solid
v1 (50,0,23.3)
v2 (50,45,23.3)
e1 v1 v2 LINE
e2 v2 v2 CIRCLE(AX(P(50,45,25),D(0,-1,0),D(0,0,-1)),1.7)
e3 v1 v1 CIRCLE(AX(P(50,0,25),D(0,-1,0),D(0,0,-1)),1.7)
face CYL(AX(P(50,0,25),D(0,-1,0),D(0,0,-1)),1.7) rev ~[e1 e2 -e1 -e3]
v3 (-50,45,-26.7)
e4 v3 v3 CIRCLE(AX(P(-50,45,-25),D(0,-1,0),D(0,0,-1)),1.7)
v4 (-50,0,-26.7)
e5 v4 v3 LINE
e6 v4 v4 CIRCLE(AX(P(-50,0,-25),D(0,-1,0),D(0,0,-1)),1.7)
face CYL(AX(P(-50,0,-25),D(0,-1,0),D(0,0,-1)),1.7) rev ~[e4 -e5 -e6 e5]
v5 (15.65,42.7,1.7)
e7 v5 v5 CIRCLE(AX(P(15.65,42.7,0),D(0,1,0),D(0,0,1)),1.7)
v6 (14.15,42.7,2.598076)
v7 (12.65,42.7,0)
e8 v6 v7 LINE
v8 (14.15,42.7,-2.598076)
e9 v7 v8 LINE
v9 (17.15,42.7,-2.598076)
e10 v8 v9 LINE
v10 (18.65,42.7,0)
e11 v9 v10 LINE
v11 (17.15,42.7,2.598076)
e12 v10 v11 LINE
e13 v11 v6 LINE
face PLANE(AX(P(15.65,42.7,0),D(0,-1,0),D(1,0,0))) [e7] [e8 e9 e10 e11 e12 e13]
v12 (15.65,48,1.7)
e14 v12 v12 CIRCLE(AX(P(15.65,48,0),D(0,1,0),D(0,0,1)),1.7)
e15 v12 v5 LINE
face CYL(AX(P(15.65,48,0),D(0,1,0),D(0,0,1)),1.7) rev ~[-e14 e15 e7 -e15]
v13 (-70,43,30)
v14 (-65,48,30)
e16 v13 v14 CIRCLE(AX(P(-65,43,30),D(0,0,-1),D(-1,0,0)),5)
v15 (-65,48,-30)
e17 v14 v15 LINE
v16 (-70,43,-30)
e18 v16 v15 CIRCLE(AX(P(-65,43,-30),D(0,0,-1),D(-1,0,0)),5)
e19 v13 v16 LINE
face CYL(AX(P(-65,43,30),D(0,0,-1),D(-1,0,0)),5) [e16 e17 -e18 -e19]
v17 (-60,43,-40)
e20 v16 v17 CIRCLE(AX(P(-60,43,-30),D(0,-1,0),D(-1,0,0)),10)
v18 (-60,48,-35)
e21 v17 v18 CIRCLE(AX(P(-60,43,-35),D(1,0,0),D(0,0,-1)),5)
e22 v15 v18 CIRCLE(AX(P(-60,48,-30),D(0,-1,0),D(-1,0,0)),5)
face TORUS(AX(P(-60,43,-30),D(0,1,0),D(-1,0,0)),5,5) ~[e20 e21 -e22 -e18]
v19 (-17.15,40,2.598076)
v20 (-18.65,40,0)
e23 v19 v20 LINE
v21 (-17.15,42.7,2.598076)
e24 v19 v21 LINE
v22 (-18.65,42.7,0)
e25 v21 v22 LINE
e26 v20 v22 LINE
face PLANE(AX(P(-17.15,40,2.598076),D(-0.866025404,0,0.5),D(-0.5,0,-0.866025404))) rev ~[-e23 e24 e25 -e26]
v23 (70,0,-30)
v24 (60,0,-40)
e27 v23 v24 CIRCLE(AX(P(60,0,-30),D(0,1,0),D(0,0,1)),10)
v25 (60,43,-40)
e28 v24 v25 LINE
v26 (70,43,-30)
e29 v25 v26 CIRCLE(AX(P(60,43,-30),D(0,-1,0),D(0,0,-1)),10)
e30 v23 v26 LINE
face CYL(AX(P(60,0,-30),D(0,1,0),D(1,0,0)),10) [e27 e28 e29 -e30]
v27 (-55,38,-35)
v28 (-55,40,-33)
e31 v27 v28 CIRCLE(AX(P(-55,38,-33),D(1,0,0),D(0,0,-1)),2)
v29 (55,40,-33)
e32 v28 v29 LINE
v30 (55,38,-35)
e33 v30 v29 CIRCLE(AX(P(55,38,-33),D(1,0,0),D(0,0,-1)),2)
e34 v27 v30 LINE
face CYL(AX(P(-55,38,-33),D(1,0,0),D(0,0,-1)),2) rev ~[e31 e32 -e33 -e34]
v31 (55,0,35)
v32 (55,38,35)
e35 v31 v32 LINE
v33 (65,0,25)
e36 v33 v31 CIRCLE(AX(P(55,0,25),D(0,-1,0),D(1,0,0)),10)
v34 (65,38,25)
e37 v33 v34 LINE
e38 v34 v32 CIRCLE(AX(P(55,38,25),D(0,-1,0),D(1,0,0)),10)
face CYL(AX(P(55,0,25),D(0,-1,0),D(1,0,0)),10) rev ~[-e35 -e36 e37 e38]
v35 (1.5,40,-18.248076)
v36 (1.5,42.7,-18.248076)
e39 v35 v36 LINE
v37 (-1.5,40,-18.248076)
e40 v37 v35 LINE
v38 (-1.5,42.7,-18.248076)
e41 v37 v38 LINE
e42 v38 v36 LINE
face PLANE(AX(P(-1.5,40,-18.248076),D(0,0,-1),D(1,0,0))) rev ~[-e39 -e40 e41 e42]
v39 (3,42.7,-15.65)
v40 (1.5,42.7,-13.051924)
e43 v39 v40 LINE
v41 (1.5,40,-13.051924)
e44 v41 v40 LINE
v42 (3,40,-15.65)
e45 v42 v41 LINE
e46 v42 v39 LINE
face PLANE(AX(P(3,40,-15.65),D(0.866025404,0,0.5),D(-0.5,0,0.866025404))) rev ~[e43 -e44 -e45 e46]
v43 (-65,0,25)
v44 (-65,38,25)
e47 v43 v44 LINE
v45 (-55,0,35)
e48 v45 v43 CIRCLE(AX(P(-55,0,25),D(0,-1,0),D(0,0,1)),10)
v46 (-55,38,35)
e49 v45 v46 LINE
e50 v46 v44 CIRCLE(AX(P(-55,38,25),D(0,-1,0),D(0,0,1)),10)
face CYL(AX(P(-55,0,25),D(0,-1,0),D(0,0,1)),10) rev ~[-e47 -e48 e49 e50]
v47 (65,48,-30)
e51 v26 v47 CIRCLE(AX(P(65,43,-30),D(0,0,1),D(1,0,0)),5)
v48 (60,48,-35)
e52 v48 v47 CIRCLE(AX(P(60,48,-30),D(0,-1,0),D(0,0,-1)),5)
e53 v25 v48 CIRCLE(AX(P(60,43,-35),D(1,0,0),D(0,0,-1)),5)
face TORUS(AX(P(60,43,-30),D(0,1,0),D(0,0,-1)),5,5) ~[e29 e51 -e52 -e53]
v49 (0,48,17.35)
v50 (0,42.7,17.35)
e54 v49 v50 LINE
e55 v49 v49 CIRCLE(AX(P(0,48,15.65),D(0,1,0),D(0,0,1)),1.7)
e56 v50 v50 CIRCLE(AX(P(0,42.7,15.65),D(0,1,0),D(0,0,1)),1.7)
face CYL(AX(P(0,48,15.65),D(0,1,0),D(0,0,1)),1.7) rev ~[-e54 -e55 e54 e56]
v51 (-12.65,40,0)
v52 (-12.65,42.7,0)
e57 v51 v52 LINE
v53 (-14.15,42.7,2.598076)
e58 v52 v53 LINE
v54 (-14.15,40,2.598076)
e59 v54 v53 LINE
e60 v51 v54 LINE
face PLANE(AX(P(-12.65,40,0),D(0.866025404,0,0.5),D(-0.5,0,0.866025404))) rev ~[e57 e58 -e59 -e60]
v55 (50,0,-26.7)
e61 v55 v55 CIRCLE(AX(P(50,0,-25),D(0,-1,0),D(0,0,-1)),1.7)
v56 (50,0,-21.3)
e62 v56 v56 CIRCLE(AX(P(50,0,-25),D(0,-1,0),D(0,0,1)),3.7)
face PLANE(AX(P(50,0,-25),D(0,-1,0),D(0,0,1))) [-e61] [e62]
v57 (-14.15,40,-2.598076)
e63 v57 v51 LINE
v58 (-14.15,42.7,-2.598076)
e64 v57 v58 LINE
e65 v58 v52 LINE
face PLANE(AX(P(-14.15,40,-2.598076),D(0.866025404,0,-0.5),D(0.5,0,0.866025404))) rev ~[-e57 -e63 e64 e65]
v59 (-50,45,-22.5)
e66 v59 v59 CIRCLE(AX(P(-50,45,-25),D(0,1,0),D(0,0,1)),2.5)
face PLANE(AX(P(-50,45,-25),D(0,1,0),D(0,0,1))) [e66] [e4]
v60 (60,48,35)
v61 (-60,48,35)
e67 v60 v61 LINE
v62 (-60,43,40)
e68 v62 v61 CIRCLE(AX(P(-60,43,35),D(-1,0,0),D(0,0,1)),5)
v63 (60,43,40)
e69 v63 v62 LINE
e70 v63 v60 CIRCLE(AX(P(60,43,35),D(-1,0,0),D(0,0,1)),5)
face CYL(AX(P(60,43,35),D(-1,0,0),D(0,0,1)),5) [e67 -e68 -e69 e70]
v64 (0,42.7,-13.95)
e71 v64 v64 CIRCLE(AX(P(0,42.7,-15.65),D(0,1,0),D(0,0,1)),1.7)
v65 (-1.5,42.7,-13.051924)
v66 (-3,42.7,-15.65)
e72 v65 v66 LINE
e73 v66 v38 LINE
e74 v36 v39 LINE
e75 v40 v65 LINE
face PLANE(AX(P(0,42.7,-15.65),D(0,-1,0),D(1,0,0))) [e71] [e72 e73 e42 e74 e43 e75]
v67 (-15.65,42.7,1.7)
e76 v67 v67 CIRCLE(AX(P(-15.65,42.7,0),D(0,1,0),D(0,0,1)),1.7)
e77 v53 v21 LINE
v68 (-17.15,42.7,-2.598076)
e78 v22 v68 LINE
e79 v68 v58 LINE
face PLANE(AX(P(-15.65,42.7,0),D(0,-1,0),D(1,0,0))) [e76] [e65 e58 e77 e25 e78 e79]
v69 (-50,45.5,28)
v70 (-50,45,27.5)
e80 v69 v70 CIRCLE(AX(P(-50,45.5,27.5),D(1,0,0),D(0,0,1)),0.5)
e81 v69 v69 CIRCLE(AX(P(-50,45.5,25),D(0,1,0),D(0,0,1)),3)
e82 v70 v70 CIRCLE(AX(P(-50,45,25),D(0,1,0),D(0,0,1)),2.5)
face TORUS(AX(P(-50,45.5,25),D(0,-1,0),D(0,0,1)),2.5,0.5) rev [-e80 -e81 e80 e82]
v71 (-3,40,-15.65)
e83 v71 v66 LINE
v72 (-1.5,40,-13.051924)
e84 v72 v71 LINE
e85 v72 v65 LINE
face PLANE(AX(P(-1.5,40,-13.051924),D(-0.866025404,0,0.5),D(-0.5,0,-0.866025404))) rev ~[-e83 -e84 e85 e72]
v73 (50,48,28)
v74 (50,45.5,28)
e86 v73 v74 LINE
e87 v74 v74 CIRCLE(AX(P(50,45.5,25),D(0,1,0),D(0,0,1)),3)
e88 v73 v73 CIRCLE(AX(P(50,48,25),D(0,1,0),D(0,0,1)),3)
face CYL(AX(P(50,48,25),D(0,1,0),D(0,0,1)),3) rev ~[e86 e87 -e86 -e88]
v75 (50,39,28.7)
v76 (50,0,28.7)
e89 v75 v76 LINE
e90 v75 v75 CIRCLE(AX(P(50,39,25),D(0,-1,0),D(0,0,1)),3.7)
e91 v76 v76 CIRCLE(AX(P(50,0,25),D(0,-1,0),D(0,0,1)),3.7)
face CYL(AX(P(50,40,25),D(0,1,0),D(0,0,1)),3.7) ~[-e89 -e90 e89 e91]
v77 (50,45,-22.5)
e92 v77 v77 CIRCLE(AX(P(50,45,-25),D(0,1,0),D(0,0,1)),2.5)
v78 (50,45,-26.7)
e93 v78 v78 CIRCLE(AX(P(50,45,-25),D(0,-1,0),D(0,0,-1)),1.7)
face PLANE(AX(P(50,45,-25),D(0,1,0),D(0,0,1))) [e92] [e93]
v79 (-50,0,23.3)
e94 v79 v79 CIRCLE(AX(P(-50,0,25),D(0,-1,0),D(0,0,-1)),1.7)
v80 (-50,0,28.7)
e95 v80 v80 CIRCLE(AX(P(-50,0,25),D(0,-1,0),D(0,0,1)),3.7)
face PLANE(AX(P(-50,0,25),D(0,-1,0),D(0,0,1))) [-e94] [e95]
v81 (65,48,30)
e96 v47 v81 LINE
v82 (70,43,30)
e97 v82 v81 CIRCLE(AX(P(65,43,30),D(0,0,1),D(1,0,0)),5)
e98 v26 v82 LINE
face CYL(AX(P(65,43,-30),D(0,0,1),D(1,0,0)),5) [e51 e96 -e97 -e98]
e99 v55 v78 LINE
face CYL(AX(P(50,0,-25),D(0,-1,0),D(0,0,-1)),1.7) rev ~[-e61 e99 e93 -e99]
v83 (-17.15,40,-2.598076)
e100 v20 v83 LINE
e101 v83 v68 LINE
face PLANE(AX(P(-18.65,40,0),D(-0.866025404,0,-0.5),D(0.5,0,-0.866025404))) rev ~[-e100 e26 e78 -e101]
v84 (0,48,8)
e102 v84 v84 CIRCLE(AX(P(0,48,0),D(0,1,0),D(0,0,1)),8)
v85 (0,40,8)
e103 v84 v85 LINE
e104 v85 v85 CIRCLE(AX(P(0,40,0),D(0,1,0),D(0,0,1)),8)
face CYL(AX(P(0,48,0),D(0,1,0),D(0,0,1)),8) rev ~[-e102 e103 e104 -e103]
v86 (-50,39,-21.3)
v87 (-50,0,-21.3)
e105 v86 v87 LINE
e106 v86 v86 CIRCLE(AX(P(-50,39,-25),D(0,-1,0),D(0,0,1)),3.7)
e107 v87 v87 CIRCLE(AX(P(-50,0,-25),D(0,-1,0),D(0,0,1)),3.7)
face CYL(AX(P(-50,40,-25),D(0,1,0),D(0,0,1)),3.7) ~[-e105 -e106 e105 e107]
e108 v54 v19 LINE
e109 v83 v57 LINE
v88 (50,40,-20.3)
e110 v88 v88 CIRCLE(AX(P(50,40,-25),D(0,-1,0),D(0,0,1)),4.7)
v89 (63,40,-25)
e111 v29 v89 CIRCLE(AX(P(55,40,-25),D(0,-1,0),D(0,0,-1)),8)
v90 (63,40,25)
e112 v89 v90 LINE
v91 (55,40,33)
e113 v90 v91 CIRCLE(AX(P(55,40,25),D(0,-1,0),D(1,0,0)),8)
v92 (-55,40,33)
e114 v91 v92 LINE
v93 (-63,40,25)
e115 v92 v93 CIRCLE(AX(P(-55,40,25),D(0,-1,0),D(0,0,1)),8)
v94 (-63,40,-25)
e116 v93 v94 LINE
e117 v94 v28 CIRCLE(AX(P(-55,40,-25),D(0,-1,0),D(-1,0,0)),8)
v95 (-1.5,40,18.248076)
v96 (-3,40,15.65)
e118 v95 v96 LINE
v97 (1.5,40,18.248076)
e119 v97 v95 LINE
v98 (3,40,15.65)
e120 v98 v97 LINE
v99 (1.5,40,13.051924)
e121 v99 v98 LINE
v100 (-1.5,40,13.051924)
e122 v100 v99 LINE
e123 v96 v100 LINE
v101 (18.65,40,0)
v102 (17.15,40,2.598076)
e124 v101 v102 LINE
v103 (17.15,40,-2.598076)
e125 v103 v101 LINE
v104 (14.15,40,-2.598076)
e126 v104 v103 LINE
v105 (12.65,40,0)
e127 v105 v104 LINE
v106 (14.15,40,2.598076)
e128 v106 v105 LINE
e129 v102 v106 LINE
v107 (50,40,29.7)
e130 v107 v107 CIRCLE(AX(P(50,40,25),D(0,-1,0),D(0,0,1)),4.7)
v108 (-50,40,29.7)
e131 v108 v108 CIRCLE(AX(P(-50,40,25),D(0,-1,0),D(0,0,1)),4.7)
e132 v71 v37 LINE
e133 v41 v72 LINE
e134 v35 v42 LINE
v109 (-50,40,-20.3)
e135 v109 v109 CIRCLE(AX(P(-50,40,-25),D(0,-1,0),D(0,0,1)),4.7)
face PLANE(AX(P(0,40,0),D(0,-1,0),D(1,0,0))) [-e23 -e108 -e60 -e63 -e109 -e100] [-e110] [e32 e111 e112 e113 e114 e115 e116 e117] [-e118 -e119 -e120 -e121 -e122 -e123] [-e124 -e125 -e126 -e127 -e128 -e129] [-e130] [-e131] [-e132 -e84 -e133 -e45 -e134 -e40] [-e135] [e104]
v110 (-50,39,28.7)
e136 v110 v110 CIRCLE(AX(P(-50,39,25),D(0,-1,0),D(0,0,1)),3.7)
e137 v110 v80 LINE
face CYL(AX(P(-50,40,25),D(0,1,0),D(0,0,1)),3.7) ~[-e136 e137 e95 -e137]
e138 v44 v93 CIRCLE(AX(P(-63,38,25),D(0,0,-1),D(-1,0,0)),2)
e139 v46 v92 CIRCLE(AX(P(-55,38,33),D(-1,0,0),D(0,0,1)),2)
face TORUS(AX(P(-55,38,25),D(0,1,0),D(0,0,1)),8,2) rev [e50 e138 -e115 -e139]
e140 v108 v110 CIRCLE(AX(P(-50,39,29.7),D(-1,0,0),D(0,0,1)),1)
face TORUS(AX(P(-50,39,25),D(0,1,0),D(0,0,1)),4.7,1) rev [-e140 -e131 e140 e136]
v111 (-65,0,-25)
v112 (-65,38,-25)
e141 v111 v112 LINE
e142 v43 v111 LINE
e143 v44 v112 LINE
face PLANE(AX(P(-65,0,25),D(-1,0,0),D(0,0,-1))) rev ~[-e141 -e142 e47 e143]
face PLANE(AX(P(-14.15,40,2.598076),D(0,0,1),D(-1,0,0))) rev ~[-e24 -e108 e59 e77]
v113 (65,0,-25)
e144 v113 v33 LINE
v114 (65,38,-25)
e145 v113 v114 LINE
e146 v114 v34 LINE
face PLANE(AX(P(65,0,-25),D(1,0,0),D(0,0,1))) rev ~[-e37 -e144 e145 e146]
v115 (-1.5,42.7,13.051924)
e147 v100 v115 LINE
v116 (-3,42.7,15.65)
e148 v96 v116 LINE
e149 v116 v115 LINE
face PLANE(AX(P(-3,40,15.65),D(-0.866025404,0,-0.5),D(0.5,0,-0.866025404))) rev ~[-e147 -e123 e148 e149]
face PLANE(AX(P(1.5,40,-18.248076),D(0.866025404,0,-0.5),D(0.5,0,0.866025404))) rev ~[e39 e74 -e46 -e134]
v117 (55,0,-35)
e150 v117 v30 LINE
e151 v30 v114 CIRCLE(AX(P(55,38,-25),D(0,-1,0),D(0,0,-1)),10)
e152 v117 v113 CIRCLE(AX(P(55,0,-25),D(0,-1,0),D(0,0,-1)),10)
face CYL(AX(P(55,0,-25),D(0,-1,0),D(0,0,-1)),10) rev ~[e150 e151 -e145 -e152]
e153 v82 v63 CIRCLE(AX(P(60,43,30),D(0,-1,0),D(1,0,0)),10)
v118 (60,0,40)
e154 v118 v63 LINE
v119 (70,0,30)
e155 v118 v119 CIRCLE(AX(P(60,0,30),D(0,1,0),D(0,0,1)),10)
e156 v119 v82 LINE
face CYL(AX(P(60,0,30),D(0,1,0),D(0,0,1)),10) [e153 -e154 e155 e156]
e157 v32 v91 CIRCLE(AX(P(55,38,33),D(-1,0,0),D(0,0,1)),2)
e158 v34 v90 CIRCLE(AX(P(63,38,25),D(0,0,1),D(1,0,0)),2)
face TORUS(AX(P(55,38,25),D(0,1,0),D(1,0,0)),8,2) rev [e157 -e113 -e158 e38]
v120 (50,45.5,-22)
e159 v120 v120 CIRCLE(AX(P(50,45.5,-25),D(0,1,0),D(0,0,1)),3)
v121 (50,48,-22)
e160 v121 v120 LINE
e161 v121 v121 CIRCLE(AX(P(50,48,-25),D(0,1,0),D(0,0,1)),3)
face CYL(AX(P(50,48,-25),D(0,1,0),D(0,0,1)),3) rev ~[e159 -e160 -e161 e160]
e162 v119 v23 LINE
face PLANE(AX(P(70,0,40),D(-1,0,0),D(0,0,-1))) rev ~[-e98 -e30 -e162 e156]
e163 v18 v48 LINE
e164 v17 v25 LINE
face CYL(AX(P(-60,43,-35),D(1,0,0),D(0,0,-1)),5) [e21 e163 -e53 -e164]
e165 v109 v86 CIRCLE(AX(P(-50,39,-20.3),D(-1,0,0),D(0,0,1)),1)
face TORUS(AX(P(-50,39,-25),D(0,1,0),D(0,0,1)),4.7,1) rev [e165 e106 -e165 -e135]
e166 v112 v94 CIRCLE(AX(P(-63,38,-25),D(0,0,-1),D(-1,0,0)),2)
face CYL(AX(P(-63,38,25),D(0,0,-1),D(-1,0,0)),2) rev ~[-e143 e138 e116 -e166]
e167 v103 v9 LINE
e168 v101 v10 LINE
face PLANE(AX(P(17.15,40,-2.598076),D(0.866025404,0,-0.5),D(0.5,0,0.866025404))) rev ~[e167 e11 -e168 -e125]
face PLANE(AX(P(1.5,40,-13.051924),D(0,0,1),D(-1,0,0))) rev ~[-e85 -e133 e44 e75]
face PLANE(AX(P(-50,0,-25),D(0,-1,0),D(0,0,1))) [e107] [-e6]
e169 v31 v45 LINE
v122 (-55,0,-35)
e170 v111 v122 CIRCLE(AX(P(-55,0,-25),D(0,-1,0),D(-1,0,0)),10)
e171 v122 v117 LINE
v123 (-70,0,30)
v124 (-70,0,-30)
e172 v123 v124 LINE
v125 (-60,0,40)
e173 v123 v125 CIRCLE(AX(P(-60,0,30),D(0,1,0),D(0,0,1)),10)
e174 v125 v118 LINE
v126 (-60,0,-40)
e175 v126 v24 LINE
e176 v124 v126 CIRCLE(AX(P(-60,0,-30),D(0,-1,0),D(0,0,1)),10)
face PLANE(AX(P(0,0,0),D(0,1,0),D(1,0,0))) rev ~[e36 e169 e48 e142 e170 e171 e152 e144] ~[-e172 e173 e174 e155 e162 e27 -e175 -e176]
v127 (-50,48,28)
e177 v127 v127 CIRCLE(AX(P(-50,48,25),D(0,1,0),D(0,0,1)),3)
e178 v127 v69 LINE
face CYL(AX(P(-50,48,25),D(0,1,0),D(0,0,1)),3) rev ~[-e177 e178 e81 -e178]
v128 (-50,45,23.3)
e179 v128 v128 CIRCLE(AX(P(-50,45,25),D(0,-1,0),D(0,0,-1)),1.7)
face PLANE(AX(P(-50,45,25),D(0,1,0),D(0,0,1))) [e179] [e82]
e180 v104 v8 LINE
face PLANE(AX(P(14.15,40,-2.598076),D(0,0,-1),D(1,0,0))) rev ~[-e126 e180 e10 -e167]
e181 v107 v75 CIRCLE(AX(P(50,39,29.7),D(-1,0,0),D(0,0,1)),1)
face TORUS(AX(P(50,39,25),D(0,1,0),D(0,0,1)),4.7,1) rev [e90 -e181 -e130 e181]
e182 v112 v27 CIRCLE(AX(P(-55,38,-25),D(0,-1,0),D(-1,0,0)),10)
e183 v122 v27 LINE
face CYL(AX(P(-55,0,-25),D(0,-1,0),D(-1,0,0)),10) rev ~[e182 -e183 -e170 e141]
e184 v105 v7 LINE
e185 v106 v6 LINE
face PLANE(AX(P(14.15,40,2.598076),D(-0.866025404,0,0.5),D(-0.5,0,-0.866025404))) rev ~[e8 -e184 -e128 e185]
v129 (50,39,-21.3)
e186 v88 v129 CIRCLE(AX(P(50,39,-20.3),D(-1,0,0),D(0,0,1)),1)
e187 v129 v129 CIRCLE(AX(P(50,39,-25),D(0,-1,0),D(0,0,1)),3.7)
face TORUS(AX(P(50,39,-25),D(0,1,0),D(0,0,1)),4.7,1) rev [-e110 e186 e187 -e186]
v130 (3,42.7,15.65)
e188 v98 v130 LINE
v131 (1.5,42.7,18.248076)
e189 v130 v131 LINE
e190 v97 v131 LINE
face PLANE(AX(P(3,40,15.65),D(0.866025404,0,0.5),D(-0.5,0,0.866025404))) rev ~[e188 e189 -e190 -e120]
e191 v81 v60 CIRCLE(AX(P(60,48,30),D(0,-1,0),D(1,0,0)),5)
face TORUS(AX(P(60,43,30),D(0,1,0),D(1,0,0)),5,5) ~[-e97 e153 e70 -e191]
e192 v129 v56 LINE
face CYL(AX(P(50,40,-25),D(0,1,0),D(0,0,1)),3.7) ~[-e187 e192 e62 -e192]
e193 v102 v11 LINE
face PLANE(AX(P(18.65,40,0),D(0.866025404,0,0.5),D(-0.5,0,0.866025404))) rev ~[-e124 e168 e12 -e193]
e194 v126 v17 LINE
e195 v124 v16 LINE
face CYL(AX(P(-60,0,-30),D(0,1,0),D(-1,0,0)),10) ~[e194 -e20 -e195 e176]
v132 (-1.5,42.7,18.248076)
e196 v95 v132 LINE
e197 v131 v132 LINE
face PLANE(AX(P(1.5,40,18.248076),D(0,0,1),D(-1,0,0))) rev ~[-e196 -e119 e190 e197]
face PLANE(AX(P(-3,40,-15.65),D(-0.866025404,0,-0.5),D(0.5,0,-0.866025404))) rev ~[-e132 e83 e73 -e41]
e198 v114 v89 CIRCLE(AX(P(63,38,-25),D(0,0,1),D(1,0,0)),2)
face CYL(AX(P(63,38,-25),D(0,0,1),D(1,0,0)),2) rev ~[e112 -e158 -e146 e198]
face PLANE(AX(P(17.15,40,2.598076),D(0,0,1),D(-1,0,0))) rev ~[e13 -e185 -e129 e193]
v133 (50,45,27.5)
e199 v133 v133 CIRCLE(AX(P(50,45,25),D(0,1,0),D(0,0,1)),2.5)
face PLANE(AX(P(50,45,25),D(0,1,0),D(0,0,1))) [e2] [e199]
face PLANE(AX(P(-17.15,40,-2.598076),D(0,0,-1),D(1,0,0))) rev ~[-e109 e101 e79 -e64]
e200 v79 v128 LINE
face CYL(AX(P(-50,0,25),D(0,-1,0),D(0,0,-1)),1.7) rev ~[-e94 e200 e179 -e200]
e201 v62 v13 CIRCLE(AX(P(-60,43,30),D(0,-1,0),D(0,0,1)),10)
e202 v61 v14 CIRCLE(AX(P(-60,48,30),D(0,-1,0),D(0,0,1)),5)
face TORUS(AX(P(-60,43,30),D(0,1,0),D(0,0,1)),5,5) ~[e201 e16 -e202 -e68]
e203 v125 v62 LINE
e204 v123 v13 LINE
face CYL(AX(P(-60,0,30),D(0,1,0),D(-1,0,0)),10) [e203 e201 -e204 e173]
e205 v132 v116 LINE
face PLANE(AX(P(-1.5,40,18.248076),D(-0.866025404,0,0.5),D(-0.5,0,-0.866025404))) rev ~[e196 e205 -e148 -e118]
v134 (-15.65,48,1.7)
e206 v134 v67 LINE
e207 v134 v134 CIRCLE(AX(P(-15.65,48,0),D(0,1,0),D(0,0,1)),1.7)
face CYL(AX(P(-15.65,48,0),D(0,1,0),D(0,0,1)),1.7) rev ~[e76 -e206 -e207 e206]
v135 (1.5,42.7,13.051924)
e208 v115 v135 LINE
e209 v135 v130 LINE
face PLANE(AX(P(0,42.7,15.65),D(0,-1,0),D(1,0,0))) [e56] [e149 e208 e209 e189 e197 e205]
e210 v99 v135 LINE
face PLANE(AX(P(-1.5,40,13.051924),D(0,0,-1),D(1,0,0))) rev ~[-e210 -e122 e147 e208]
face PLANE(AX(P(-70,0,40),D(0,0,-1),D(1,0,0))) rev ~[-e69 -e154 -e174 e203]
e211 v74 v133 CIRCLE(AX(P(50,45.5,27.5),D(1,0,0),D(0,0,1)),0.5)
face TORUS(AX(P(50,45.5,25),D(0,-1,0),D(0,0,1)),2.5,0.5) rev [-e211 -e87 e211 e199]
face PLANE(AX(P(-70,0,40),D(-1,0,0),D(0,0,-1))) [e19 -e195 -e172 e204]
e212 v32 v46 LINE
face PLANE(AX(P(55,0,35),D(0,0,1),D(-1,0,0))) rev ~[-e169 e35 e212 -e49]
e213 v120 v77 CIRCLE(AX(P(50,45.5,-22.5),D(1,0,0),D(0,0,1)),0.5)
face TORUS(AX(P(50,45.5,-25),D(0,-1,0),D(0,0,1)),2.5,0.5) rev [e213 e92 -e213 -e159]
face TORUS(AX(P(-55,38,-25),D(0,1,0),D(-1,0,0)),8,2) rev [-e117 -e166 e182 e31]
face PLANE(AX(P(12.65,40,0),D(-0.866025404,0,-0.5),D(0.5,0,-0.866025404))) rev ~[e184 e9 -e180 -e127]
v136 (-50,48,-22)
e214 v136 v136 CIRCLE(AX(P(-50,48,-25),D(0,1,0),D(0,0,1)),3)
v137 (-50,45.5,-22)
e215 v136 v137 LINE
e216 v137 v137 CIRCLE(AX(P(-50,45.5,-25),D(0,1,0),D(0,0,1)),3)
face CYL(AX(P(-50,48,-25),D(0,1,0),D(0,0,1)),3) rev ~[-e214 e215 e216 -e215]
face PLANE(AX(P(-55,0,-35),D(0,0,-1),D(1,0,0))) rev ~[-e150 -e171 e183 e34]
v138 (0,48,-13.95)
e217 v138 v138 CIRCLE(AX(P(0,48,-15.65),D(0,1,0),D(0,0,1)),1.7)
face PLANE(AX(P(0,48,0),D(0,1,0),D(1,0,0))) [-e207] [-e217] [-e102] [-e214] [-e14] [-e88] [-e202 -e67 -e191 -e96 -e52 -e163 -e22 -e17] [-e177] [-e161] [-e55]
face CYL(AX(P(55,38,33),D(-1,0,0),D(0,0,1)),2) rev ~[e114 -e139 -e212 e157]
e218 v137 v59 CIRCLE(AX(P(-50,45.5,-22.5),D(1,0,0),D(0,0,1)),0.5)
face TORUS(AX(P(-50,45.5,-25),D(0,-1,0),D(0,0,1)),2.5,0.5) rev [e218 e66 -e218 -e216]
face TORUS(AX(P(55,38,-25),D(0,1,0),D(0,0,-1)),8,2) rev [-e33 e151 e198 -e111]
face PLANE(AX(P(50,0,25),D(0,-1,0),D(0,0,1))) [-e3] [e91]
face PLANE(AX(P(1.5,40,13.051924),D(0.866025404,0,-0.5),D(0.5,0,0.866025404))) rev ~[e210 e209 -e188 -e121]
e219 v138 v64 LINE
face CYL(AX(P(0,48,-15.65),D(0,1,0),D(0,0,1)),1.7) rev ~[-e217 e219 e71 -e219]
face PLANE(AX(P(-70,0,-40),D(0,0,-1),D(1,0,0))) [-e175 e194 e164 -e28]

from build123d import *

# Parameters (mm, degrees)
SKETCH1_W           = 140
SKETCH1_H           = 80
BOSS_EXTRUDE1_DEPTH = 48
FILLET1_R           = 10
FILLET2_R           = 5
CUT_EXTRUDE1_DEPTH  = 40
SKETCH3_R           = 3.7
BOSS_EXTRUDE2_DEPTH = 40
SKETCH5_R           = 1.7
CUT_EXTRUDE4_DEPTH  = 94.829632921
SKETCH6_R           = 3
CUT_EXTRUDE5_DEPTH  = 3
FILLET3_R           = 0.5
FILLET4_R           = 2
FILLET5_R           = 1
SKETCH7_R           = 8
CUT_EXTRUDE6_DEPTH  = 94.829632921
SKETCH8_R           = 1.7
CUT_EXTRUDE7_DEPTH  = 94.829632921
CUT_EXTRUDE8_DEPTH  = 2.7


with BuildPart() as part:
    # Sketch1 → Boss-Extrude1 (new body)
    with BuildSketch(Plane(origin=(0, 0, 0), x_dir=(1, 0, 0), z_dir=(0, 1, 0))):
        Rectangle(SKETCH1_W, SKETCH1_H)
    extrude(amount=BOSS_EXTRUDE1_DEPTH)

    # Fillet1
    fillet1_edges = [part.edges().sort_by_distance(p)[0] for p in [
        (70, 24, 40),
        (-70, 24, 40),
        (-70, 24, -40),
        (70, 24, -40),
    ]]
    fillet(fillet1_edges, radius=FILLET1_R)

    # Fillet2
    fillet2_edges = [part.edges().sort_by_distance(p)[0] for p in [
        (-70, 48, 0),
        (0, 48, -40),
        (70, 48, 0),
        (0, 48, 40),
        (-67.071067812, 48, 37.071067812),
        (67.071067812, 48, 37.071067812),
        (67.071067812, 48, -37.071067812),
        (-67.071067812, 48, -37.071067812),
    ]]
    fillet(fillet2_edges, radius=FILLET2_R)

    # Sketch2 → Cut-Extrude1 (cut)
    with BuildSketch(Plane.XZ):
        with BuildLine():
            Line((-55, -35), (55, -35))
            ThreePointArc((55, -35), (62.071067812, -32.071067812), (65, -25))
            Line((65, -25), (65, 25))
            ThreePointArc((65, 25), (62.071067812, 32.071067812), (55, 35))
            Line((55, 35), (-55, 35))
            ThreePointArc((-55, 35), (-62.071067812, 32.071067812), (-65, 25))
            Line((-65, 25), (-65, -25))
            ThreePointArc((-65, -25), (-62.071067812, -32.071067812), (-55, -35))
        make_face()
    extrude(amount=-CUT_EXTRUDE1_DEPTH, mode=Mode.SUBTRACT)

    # Sketch3 → Boss-Extrude2 (add)
    with BuildSketch(Plane(origin=(0, 40, 0), x_dir=(-1, 0, 0), z_dir=(0, -1, 0))):
        with Locations(Location((50, -25, 0), (0, 0, 270))):
            Circle(SKETCH3_R)
        with Locations(Location((-50, -25, 0), (0, 0, 270))):
            Circle(SKETCH3_R)
        with Locations(Location((50, 25, 0), (0, 0, 270))):
            Circle(SKETCH3_R)
        with Locations(Location((-50, 25, 0), (0, 0, 270))):
            Circle(SKETCH3_R)
    extrude(amount=BOSS_EXTRUDE2_DEPTH)

    # Sketch5 → Cut-Extrude4 (cut, through all)
    with BuildSketch(Plane(origin=(0, 0, 0), x_dir=(-1, 0, 0), z_dir=(0, -1, 0))):
        with Locations(Location((50, -25, 0), (0, 0, 90))):
            Circle(SKETCH5_R)
        with Locations(Location((-50, -25, 0), (0, 0, 90))):
            Circle(SKETCH5_R)
        with Locations(Location((50, 25, 0), (0, 0, 90))):
            Circle(SKETCH5_R)
        with Locations(Location((-50, 25, 0), (0, 0, 90))):
            Circle(SKETCH5_R)
    extrude(amount=-CUT_EXTRUDE4_DEPTH, mode=Mode.SUBTRACT)

    # Sketch6 → Cut-Extrude5 (cut)
    with BuildSketch(Plane(origin=(0, 48, 0), x_dir=(1, 0, 0), z_dir=(0, 1, 0))):
        with Locations(Location((-50, 25, 0), (0, 0, 270))):
            Circle(SKETCH6_R)
        with Locations(Location((50, 25, 0), (0, 0, 270))):
            Circle(SKETCH6_R)
        with Locations(Location((-50, -25, 0), (0, 0, 270))):
            Circle(SKETCH6_R)
        with Locations(Location((50, -25, 0), (0, 0, 270))):
            Circle(SKETCH6_R)
    extrude(amount=-CUT_EXTRUDE5_DEPTH, mode=Mode.SUBTRACT)

    # Fillet3
    fillet3_edges = [part.edges().sort_by_distance(p)[0] for p in [
        (50, 45, -28),
        (-50, 45, 22),
        (50, 45, 22),
        (-50, 45, -28),
    ]]
    fillet(fillet3_edges, radius=FILLET3_R)

    # Fillet4
    fillet4_edges = [part.edges().sort_by_distance(p)[0] for p in [
        (-62.071067812, 40, 32.071067812),
        (0, 40, 35),
        (62.071067812, 40, 32.071067812),
        (65, 40, 0),
        (62.071067812, 40, -32.071067812),
        (0, 40, -35),
        (-62.071067812, 40, -32.071067812),
        (-65, 40, 0),
    ]]
    fillet(fillet4_edges, radius=FILLET4_R)

    # Fillet5
    fillet5_edges = [part.edges().sort_by_distance(p)[0] for p in [
        (-50, 40, 21.3),
        (50, 40, -28.7),
        (-50, 40, -28.7),
        (50, 40, 21.3),
    ]]
    fillet(fillet5_edges, radius=FILLET5_R)

    # Sketch7 → Cut-Extrude6 (cut, through all)
    with BuildSketch(Plane(origin=(0, 48, 0), x_dir=(1, 0, 0), z_dir=(0, 1, 0))):
        with Locations(Location((0, 0, 0), (0, 0, 270))):
            Circle(SKETCH7_R)
    extrude(amount=-CUT_EXTRUDE6_DEPTH, mode=Mode.SUBTRACT)

    # Sketch8 → Cut-Extrude7 (cut, through all)
    with BuildSketch(Plane(origin=(0, 48, 0), x_dir=(1, 0, 0), z_dir=(0, 1, 0))):
        with Locations(Location((0, 15.65, 0), (0, 0, 270))):
            Circle(SKETCH8_R)
        with Locations(Location((15.65, 0, 0), (0, 0, 270))):
            Circle(SKETCH8_R)
        with Locations(Location((0, -15.65, 0), (0, 0, 270))):
            Circle(SKETCH8_R)
        with Locations(Location((-15.65, 0, 0), (0, 0, 270))):
            Circle(SKETCH8_R)
    extrude(amount=-CUT_EXTRUDE7_DEPTH, mode=Mode.SUBTRACT)

    # Sketch9 → Cut-Extrude8 (cut)
    with BuildSketch(Plane.XZ.offset(-40)):
        Polygon((3, 15.65), (1.5, 18.248076211), (-1.5, 18.248076211), (-3, 15.65), (-1.5, 13.051923789), (1.5, 13.051923789), align=None)
        Polygon((18.65, 0), (17.15, 2.598076211), (14.15, 2.598076211), (12.65, 0), (14.15, -2.598076211), (17.15, -2.598076211), align=None)
        Polygon((3, -15.65), (1.5, -13.051923789), (-1.5, -13.051923789), (-3, -15.65), (-1.5, -18.248076211), (1.5, -18.248076211), align=None)
        Polygon((-12.65, 0), (-14.15, 2.598076211), (-17.15, 2.598076211), (-18.65, 0), (-17.15, -2.598076211), (-14.15, -2.598076211), align=None)
    extrude(amount=-CUT_EXTRUDE8_DEPTH, mode=Mode.SUBTRACT)


solid = part.part
